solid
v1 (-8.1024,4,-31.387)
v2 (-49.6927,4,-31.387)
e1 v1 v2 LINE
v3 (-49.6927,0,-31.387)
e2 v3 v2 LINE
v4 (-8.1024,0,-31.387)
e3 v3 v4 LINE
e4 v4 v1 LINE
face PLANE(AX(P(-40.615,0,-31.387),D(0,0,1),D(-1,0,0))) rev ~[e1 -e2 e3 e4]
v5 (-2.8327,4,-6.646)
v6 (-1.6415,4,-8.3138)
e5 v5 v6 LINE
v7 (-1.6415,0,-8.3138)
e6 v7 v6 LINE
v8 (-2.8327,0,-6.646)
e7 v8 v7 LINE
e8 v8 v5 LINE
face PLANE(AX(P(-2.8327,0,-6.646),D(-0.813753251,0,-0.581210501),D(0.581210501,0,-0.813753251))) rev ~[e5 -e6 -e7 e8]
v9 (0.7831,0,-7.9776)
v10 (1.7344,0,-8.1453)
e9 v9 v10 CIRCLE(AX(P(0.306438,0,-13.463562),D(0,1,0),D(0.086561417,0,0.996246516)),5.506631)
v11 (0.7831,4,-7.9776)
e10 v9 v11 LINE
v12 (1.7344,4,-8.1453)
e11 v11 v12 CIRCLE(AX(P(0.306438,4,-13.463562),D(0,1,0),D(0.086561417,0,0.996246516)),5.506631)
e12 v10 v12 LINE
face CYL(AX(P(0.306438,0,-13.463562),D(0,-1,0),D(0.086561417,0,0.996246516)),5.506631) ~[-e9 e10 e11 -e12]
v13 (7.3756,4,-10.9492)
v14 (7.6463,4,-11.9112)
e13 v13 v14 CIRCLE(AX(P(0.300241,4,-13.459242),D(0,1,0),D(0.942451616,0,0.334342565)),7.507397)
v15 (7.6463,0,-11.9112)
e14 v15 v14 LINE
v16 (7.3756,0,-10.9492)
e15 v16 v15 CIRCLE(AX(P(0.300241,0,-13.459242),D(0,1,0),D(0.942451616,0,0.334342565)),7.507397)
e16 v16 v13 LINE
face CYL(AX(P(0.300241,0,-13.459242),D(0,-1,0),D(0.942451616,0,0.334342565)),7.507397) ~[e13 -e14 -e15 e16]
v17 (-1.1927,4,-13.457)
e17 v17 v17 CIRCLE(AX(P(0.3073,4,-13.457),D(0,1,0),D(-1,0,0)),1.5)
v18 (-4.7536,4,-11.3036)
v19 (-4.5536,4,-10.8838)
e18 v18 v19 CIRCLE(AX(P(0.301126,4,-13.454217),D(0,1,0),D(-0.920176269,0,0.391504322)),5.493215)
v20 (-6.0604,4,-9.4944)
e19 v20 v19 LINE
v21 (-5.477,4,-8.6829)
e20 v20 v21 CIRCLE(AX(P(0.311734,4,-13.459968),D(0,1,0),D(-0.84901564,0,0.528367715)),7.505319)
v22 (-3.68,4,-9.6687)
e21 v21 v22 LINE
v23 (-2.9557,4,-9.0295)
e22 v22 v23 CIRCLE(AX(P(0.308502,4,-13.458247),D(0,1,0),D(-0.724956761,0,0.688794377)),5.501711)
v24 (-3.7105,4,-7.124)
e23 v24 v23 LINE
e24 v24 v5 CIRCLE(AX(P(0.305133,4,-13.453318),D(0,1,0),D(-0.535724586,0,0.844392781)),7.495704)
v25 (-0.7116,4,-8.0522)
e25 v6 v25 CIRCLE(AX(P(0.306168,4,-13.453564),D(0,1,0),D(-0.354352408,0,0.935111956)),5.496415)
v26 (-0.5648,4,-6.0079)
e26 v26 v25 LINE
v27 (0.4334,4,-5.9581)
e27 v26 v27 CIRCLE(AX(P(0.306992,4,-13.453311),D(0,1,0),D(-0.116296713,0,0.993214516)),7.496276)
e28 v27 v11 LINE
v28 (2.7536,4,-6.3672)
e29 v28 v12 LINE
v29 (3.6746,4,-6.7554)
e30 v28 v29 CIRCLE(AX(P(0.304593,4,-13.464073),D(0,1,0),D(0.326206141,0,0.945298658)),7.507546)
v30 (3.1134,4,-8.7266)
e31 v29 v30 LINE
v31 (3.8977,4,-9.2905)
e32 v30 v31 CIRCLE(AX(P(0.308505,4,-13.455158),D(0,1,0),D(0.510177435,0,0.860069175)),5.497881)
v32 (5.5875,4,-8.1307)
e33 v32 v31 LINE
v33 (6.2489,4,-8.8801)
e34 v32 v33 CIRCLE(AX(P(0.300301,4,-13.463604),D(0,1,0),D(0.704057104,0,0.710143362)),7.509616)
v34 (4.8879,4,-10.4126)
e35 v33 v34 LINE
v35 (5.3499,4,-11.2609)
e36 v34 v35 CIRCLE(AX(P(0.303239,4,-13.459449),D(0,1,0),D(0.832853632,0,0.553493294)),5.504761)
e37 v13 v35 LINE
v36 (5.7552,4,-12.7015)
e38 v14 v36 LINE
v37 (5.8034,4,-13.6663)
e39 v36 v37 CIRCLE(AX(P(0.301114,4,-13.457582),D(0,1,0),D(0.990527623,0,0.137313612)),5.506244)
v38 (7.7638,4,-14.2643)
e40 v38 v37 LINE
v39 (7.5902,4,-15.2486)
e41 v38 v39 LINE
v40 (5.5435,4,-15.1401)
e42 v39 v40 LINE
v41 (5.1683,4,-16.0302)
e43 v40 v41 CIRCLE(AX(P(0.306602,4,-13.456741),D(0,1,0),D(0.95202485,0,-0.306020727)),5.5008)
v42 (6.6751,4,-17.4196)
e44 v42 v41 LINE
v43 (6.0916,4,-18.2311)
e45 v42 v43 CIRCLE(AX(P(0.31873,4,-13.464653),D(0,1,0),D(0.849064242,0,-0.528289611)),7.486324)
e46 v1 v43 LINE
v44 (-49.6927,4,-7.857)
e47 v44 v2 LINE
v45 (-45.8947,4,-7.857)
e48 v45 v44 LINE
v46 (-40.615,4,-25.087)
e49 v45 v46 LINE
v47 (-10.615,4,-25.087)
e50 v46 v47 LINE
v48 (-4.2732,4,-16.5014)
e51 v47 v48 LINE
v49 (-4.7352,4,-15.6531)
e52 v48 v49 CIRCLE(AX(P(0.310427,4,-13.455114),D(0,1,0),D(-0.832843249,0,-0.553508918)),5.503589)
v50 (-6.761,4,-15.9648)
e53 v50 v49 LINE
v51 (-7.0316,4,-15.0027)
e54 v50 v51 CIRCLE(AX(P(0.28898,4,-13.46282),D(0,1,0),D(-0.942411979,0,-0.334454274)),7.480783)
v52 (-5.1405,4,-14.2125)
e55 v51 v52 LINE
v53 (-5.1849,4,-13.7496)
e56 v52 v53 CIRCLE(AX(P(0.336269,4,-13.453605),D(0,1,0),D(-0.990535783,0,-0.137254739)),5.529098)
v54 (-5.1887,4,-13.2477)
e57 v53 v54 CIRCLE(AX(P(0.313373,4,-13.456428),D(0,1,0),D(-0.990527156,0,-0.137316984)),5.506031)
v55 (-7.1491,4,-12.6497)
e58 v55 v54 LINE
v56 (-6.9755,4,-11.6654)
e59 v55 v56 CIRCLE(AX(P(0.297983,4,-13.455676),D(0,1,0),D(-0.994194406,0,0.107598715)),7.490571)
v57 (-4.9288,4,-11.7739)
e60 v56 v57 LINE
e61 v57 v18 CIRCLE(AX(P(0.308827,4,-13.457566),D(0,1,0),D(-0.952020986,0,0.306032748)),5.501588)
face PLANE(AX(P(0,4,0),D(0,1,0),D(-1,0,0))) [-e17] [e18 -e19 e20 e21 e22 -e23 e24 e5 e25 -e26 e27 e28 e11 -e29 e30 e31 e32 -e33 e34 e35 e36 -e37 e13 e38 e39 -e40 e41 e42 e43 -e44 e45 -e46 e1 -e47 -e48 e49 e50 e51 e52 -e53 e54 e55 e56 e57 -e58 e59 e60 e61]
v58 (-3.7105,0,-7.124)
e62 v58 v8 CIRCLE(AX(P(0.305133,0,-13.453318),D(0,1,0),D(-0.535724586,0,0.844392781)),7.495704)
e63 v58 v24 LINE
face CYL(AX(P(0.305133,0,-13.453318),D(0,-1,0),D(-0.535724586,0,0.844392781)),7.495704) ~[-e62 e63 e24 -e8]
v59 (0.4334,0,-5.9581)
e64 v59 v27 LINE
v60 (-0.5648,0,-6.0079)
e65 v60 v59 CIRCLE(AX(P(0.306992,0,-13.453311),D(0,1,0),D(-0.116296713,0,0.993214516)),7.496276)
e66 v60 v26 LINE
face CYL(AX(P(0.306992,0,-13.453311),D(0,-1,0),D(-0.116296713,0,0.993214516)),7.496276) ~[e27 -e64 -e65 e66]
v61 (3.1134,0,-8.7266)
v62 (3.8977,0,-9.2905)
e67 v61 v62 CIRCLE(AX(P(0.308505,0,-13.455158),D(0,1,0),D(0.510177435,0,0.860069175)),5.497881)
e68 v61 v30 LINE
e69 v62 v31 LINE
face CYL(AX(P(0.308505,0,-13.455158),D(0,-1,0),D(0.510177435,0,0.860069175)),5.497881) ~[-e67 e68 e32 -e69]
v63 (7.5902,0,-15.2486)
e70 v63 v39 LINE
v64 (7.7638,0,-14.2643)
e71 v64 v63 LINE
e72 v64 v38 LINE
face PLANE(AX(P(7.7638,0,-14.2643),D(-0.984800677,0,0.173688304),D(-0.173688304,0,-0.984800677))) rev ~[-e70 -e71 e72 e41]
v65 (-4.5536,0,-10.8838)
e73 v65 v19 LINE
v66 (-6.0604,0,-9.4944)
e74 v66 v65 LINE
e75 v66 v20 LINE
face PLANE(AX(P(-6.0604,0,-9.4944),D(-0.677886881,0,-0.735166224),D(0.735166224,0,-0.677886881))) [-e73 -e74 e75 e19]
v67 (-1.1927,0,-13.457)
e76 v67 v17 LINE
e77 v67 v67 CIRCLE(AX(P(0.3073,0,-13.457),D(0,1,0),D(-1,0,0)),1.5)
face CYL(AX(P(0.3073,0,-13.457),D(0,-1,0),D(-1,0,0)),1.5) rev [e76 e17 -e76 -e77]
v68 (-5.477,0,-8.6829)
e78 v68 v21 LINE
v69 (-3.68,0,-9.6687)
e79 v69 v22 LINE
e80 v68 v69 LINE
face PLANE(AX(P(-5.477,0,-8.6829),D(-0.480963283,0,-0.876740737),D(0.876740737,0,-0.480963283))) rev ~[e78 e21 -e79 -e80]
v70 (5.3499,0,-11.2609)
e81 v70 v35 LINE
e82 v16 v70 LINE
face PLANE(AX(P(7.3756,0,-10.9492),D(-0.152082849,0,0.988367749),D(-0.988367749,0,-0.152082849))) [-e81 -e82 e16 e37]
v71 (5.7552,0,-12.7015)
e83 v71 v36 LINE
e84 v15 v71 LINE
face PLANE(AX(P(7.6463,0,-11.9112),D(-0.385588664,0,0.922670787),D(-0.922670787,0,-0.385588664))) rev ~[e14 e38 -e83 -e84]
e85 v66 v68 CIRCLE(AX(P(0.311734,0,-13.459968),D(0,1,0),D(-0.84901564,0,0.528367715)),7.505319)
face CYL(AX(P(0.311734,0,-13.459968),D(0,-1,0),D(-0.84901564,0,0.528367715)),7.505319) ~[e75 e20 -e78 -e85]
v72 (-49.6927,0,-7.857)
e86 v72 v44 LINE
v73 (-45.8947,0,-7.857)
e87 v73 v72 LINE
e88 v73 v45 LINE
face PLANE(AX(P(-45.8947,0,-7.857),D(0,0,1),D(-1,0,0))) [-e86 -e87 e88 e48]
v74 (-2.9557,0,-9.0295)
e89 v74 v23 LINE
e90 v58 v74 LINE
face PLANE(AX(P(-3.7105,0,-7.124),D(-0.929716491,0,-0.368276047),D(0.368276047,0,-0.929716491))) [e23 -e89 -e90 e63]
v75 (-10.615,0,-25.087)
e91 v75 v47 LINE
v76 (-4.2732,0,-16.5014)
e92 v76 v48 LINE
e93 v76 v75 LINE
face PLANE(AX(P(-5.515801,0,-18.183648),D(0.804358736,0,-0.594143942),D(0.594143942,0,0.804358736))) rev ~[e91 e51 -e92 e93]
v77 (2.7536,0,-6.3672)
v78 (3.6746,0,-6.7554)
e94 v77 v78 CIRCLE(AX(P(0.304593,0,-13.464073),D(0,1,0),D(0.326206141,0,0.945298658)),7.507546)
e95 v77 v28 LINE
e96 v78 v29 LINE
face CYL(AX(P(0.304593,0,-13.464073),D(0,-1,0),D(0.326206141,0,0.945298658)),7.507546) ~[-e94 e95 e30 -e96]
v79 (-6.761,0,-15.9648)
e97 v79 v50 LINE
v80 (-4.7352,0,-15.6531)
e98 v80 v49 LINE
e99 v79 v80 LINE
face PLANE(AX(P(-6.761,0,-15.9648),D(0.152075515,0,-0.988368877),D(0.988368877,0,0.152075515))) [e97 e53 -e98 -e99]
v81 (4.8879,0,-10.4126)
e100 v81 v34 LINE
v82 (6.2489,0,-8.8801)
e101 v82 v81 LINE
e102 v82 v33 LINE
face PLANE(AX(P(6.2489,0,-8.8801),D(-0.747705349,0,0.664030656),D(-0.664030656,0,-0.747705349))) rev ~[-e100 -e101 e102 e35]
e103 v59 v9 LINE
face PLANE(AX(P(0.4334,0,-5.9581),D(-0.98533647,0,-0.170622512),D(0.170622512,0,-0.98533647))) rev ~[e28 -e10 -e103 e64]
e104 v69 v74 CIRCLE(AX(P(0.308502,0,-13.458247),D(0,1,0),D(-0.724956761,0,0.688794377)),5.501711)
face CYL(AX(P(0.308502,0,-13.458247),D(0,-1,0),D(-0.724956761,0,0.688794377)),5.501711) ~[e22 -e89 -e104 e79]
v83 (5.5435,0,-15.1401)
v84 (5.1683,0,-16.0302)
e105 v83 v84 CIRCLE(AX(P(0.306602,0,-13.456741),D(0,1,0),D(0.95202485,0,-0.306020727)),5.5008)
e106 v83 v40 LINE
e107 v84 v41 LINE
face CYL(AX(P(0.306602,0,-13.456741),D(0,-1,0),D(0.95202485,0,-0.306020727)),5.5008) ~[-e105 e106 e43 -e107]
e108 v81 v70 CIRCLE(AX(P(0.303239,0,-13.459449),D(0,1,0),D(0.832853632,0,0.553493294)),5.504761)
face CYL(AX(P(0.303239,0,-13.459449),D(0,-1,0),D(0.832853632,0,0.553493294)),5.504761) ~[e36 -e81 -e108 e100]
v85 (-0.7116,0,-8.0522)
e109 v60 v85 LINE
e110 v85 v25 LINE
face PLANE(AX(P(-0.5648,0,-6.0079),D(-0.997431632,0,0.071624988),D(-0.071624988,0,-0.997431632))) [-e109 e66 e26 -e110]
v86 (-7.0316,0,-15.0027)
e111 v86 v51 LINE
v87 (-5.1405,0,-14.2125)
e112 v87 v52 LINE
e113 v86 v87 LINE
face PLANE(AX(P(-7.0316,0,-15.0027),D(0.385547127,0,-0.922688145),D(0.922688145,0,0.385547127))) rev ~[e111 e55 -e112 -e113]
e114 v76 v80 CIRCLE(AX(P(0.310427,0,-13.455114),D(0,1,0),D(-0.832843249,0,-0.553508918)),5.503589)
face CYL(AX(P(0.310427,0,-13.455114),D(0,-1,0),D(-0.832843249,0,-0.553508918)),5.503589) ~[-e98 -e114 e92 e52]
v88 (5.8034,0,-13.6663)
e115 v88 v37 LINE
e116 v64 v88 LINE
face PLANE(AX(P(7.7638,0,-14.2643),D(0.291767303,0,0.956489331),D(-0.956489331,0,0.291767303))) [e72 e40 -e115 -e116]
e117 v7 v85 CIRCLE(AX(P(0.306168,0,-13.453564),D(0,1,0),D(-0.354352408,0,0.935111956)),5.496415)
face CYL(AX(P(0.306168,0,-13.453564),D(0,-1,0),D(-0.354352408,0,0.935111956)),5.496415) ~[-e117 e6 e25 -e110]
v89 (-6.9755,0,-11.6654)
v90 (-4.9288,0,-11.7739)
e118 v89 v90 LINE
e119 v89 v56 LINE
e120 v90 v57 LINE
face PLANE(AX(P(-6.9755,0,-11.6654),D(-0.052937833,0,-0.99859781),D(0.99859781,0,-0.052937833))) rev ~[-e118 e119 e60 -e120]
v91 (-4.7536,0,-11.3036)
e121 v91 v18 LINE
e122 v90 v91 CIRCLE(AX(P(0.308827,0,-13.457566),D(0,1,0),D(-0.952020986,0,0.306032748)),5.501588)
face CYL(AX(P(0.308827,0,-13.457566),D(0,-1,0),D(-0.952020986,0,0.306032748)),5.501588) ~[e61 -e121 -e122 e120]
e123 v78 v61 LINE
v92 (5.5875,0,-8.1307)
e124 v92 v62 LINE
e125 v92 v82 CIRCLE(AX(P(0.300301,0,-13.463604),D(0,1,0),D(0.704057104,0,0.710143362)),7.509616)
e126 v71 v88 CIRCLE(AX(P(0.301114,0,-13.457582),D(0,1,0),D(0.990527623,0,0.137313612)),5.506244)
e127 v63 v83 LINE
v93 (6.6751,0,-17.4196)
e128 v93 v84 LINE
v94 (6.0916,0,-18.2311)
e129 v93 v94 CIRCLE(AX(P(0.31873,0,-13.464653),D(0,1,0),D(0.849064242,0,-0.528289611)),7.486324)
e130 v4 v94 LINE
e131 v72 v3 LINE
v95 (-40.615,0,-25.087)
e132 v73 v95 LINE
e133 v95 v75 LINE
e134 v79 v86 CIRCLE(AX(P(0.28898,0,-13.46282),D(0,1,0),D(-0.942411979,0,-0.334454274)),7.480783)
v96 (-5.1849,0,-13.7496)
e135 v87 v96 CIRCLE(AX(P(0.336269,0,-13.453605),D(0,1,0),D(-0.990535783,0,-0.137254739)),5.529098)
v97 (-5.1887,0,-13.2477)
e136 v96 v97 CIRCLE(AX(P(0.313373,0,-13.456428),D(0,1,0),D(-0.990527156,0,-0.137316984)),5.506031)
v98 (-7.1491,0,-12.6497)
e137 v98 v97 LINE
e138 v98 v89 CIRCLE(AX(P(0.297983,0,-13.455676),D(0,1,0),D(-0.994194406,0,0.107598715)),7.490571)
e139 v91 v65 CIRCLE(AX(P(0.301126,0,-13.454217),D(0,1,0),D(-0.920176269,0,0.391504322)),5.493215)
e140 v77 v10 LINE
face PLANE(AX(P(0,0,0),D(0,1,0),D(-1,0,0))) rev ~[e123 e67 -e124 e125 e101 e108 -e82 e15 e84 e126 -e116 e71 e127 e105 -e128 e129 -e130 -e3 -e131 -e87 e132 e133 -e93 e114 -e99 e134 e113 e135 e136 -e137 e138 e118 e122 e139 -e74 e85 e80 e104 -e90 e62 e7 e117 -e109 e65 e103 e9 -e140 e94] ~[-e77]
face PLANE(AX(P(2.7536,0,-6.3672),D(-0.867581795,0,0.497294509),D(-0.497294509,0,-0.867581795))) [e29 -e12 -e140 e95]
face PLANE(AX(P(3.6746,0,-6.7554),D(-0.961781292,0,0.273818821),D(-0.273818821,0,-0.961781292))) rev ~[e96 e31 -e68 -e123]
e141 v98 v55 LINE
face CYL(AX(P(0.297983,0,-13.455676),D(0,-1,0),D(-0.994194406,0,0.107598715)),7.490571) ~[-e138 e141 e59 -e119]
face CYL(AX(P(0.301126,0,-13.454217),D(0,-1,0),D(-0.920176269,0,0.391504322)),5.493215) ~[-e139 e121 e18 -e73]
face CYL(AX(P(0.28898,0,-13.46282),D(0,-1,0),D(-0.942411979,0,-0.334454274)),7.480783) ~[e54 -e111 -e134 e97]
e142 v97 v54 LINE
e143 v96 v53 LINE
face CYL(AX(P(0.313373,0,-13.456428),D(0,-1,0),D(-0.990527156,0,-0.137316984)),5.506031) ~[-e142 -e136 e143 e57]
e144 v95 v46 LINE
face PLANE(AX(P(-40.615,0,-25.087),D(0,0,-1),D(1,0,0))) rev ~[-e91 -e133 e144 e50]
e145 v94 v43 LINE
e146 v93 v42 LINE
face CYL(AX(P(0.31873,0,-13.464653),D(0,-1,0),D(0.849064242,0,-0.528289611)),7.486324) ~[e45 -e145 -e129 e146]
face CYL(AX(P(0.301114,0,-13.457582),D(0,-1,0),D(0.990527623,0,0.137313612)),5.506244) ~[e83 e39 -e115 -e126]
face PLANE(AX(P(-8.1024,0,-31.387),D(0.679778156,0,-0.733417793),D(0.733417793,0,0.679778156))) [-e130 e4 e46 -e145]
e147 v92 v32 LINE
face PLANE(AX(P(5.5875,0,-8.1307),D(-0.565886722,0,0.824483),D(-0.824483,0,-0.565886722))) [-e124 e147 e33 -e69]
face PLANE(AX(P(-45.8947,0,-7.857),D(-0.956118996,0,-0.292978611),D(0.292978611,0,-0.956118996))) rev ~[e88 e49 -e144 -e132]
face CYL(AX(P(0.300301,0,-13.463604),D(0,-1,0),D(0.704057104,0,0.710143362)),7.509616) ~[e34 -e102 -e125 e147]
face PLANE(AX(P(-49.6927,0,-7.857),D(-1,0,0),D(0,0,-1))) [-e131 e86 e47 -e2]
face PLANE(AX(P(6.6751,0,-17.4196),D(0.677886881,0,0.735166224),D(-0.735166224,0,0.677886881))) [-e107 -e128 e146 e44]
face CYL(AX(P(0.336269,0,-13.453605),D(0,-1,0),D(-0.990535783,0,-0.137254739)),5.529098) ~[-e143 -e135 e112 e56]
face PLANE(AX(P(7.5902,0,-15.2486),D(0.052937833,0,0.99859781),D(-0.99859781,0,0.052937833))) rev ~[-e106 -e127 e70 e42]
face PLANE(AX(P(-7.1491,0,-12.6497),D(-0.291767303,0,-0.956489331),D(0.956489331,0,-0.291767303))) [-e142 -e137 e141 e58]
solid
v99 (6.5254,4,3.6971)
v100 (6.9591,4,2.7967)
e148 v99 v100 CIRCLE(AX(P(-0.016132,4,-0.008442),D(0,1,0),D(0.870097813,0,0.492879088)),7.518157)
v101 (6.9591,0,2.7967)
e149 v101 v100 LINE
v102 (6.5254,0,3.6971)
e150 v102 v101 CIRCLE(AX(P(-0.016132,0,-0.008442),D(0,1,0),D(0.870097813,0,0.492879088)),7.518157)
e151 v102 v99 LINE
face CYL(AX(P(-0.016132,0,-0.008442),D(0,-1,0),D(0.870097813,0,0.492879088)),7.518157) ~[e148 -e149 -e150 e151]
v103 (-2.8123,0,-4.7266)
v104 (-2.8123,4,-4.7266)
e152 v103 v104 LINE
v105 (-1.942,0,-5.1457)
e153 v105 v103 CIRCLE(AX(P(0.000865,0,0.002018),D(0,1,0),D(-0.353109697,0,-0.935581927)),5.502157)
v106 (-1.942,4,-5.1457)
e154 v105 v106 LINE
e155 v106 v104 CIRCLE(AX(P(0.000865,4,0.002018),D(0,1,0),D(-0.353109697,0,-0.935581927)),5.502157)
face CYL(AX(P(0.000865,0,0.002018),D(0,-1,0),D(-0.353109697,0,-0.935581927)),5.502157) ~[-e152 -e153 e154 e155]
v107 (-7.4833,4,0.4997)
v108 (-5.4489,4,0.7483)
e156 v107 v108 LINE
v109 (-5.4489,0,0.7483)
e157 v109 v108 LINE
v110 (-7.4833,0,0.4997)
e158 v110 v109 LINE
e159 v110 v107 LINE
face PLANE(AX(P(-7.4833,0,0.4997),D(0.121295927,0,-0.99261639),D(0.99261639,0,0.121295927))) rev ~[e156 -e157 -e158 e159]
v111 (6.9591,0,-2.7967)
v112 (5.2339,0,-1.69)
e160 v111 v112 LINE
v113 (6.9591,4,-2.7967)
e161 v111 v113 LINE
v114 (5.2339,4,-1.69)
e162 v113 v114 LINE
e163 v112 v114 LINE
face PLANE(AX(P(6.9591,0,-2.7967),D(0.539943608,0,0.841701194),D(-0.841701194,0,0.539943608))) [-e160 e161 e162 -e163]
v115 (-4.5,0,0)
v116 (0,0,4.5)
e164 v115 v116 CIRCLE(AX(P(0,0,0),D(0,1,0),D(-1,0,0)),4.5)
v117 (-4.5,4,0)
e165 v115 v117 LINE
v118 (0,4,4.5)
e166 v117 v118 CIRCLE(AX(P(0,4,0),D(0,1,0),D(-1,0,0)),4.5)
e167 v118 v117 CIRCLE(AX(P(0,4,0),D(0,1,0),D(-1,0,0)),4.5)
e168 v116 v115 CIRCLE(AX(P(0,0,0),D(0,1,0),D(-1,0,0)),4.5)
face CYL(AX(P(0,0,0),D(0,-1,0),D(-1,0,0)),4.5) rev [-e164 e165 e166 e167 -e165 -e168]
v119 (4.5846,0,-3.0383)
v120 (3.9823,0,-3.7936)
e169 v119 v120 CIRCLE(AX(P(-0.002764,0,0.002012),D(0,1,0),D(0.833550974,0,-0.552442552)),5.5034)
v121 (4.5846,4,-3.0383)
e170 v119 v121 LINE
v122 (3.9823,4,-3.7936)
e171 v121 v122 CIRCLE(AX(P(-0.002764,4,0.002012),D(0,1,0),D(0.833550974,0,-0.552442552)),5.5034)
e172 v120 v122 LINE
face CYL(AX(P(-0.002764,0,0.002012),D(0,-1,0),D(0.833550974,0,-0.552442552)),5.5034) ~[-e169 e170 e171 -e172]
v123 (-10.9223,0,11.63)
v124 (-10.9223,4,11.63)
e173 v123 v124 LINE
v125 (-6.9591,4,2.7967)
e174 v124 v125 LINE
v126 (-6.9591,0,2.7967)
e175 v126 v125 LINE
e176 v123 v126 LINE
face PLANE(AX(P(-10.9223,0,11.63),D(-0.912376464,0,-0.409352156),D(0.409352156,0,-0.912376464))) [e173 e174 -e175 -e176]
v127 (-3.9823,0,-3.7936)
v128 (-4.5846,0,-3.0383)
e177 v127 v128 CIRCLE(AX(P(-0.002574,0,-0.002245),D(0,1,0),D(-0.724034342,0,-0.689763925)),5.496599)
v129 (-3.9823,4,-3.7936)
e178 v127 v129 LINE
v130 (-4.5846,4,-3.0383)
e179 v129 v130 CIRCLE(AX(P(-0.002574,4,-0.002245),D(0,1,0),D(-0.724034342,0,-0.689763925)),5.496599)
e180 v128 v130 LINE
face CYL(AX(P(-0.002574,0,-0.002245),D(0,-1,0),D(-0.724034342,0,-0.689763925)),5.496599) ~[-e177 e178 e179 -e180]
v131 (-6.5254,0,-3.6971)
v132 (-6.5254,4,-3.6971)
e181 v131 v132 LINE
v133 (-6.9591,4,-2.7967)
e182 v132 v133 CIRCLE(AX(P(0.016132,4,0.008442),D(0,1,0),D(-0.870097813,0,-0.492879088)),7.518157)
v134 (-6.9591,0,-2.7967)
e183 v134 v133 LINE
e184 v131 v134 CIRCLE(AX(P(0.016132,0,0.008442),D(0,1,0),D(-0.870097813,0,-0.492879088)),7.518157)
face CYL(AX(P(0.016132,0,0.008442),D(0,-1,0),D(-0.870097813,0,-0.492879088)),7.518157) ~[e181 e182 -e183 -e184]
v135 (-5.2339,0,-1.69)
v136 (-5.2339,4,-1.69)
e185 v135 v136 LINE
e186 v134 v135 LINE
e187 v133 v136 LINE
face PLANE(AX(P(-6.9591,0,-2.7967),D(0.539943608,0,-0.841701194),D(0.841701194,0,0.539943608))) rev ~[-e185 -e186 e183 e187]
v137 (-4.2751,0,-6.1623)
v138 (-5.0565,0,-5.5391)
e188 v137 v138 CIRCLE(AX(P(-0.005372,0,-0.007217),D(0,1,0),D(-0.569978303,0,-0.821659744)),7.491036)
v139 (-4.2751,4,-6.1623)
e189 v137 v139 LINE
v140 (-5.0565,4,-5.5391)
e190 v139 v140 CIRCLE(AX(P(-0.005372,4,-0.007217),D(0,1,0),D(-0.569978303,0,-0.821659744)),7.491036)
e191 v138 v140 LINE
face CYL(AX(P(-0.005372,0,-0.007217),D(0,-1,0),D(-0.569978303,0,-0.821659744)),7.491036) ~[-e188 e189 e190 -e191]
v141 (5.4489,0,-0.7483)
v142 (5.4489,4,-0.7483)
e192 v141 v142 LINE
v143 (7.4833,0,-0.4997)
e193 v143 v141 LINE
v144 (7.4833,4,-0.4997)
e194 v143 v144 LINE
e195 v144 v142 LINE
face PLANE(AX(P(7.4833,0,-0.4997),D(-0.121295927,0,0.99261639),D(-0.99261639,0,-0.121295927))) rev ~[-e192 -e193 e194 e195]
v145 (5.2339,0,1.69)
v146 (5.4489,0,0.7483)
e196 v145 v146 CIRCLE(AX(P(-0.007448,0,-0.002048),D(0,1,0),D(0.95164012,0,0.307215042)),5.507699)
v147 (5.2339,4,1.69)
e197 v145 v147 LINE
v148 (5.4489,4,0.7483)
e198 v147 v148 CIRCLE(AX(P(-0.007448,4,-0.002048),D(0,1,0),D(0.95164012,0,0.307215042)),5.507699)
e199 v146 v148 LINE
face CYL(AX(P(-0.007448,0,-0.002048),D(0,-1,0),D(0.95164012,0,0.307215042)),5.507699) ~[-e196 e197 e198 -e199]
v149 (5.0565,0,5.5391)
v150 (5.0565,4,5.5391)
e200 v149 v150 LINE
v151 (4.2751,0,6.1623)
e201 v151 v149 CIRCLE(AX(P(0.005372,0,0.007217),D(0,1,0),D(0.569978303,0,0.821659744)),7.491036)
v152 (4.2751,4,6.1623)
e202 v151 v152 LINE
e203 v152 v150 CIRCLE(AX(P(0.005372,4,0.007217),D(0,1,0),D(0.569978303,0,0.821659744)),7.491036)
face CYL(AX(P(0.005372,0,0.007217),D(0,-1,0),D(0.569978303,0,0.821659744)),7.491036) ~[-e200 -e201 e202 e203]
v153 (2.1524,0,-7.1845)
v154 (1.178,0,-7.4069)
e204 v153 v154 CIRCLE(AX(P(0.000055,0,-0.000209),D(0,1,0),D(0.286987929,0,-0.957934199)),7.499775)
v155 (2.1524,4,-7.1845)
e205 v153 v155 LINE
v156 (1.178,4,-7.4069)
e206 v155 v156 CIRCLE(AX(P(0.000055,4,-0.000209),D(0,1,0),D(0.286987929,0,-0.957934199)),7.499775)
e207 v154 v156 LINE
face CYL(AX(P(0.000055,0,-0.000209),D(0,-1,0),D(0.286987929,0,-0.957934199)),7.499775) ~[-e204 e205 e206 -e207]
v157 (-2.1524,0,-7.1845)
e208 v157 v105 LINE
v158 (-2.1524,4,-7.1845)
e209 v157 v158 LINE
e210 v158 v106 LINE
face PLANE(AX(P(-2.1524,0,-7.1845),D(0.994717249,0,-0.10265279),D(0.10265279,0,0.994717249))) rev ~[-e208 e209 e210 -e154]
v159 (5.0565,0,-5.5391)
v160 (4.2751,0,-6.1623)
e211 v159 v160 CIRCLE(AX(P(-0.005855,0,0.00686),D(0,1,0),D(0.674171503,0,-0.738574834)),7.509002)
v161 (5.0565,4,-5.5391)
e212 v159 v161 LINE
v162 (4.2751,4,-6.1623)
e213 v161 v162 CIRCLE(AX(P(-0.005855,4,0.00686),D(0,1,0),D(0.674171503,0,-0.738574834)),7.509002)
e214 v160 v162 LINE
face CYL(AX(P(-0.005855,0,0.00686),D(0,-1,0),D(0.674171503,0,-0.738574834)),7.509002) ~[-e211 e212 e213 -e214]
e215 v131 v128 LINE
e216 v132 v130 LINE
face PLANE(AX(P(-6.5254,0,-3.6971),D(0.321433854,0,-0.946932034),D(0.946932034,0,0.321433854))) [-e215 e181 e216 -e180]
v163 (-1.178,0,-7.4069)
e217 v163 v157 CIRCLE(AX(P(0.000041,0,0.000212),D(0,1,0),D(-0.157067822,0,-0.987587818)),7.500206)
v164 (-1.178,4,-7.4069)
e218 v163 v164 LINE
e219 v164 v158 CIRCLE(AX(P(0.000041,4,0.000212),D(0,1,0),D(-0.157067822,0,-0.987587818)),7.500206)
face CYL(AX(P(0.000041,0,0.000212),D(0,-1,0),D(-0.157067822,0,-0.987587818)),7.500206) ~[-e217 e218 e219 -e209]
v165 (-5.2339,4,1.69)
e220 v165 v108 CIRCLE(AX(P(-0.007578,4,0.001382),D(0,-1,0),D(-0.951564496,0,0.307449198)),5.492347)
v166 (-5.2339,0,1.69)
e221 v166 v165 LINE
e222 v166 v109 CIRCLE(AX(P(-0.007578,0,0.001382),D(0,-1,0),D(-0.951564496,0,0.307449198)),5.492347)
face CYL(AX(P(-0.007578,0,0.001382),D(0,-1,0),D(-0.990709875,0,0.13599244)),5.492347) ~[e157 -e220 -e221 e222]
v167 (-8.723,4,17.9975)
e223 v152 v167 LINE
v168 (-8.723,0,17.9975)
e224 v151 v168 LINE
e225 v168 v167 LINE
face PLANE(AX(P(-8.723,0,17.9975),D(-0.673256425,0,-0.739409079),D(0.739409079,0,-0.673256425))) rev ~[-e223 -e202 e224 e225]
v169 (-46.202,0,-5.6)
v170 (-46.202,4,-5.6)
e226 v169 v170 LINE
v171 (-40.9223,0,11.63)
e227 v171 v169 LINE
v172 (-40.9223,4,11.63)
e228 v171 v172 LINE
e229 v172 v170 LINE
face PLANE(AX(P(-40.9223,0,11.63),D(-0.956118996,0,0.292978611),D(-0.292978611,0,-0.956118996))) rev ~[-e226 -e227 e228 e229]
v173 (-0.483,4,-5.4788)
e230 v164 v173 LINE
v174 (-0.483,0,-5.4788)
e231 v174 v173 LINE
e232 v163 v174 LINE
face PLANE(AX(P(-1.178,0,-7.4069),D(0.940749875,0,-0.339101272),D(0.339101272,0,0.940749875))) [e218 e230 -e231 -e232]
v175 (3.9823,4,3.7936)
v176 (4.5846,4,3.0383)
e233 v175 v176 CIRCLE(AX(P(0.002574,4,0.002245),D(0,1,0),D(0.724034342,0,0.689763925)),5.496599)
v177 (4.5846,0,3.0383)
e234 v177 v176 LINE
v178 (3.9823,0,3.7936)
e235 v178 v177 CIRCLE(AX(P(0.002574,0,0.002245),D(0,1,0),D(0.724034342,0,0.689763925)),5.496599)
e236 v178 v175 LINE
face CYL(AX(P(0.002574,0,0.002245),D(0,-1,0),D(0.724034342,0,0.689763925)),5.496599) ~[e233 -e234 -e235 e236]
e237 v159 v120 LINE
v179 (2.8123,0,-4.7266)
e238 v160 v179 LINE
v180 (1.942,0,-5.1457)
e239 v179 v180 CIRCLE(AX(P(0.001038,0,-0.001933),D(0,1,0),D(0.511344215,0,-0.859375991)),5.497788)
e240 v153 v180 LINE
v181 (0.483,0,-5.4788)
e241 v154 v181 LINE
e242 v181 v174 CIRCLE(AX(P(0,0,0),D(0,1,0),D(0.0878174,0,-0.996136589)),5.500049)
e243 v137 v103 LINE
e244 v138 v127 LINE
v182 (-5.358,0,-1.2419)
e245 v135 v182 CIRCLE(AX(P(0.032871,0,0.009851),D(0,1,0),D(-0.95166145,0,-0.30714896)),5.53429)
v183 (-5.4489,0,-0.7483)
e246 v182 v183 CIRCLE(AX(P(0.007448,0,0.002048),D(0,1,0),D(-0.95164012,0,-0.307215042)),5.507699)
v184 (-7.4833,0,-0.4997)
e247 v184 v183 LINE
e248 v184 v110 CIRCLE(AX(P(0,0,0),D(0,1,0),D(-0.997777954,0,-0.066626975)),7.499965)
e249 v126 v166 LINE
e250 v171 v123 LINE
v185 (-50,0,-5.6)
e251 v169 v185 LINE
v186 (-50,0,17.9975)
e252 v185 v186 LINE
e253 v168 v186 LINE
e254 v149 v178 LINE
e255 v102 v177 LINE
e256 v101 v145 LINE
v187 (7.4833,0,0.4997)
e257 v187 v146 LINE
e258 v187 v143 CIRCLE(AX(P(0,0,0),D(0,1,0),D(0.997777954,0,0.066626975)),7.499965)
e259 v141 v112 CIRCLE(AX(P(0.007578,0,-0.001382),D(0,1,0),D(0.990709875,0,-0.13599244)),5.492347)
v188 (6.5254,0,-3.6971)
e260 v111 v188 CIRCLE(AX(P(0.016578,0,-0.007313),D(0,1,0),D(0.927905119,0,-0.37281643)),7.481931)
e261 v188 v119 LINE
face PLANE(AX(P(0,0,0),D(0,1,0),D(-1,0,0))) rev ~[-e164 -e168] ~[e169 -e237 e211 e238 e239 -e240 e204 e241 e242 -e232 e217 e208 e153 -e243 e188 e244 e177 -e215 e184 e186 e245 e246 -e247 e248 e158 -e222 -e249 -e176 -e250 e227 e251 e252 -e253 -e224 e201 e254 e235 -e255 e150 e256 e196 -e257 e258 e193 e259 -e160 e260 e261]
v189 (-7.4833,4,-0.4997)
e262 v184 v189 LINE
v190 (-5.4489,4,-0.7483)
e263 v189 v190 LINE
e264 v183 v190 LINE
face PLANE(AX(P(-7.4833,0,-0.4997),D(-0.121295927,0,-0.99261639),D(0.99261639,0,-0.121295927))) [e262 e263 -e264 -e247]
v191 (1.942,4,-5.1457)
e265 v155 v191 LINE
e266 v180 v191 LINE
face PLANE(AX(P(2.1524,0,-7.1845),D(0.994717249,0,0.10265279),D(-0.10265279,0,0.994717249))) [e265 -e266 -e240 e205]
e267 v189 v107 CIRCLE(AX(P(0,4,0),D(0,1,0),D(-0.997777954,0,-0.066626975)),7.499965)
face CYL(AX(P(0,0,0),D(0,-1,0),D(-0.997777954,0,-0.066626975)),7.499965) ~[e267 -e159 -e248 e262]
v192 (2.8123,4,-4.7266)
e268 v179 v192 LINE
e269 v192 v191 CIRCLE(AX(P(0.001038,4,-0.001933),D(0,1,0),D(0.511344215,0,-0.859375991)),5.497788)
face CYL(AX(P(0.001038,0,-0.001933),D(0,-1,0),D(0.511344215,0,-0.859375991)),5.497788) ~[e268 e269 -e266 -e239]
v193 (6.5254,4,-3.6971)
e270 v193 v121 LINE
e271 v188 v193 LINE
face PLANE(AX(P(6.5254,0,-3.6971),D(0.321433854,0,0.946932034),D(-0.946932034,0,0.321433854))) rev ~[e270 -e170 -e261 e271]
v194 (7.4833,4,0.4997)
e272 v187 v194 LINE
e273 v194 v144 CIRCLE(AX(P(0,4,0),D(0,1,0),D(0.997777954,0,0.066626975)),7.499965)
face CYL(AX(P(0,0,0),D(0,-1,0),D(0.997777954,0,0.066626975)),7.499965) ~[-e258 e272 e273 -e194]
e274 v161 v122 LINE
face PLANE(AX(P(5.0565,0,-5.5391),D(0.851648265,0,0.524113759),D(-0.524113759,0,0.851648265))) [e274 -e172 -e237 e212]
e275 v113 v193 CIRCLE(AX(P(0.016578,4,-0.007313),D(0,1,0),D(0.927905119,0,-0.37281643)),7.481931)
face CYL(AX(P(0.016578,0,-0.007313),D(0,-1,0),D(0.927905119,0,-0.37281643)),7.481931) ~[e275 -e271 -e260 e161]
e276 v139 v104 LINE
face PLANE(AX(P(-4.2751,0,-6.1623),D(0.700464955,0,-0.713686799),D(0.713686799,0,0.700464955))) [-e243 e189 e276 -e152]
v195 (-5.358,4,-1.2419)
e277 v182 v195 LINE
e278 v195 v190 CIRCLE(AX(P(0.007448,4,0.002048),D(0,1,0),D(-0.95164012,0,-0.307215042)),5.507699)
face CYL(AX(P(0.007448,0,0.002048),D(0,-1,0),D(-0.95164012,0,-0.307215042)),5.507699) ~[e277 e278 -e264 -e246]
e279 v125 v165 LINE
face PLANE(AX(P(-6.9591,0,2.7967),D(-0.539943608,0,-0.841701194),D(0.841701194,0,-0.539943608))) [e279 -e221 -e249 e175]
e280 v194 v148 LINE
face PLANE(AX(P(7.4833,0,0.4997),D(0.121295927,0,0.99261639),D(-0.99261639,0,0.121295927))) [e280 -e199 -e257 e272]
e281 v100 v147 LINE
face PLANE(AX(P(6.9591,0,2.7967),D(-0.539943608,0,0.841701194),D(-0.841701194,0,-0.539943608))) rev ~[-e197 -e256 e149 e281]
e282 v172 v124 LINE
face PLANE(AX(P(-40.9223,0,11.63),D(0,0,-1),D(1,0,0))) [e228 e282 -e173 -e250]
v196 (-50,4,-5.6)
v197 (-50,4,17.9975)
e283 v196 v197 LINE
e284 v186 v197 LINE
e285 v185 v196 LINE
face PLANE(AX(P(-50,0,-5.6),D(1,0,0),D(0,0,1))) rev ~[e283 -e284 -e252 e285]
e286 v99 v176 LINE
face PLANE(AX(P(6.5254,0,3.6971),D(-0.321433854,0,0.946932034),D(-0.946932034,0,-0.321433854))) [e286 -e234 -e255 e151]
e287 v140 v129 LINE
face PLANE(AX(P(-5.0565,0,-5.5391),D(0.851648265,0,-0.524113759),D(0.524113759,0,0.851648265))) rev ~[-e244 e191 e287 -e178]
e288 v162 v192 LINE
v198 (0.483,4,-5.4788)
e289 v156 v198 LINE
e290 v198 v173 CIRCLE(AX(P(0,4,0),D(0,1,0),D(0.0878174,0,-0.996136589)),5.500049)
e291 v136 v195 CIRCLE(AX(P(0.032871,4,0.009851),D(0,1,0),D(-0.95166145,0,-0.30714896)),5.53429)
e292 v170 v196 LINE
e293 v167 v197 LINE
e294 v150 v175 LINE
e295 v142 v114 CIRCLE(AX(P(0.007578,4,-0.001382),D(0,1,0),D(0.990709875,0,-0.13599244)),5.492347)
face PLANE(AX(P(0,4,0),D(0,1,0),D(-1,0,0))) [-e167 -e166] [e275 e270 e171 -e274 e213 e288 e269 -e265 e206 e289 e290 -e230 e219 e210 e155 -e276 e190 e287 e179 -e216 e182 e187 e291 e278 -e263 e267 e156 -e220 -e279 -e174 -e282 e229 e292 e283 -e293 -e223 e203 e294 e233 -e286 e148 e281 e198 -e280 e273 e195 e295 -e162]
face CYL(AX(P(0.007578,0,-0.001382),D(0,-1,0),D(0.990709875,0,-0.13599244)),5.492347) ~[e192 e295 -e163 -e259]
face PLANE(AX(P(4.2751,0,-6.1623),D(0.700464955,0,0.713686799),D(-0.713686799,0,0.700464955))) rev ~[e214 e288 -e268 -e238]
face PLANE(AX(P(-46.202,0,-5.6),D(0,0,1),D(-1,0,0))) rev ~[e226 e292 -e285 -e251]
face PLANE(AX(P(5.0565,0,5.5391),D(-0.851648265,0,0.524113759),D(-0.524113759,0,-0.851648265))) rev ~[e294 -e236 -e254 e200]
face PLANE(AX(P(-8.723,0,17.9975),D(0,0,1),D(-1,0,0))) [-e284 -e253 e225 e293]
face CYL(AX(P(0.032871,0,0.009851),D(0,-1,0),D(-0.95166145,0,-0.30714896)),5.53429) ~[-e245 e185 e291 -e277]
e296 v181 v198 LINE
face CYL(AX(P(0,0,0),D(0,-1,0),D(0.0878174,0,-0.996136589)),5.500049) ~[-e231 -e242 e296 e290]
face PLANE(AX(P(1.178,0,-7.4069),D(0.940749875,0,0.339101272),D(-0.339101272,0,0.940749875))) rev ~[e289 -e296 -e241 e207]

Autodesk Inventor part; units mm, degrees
ref_plane "YZ Plane" through (0, 0, 0) normal (1, 0, 0) x (0, 1, 0)
ref_plane "XZ Plane" through (0, 0, 0) normal (0, 1, 0) x (-1, 0, 0)
ref_plane "XY Plane" through (0, 0, 0) normal (0, 0, 1) x (1, 0, 0)
sketch "Boceto1" plane through (0, 0, 0) normal (0, 1, 0) x (-1, 0, 0)
  circle A0 centre (0, 0) radius 4.5
  line L0 (7.4833, 0.4997) -> (5.4489, 0.7483)
  line L1 (7.4833, -0.4997) -> (5.4489, -0.7483)
  line L2 (6.5254, 3.6971) -> (4.5846, 3.0383)
  line L3 (6.9591, 2.7967) -> (5.2339, 1.69)
  line L4 (4.2751, 6.1623) -> (2.8123, 4.7266)
  line L5 (5.0565, 5.5391) -> (3.9823, 3.7936)
  line L6 (1.178, 7.4069) -> (0.483, 5.4788)
  line L7 (2.1524, 7.1845) -> (1.942, 5.1457)
  line L8 (-2.1524, 7.1845) -> (-1.942, 5.1457)
  line L9 (-1.178, 7.4069) -> (-0.483, 5.4788)
  line L10 (-5.0565, 5.5391) -> (-3.9823, 3.7936)
  line L11 (-4.2751, 6.1623) -> (-2.8123, 4.7266)
  line L12 (-6.9591, 2.7967) -> (-5.2339, 1.69)
  line L13 (-6.5254, 3.6971) -> (-4.5846, 3.0383)
  line L14 (-7.4833, -0.4997) -> (-5.4489, -0.7483)
  line L15 (-7.4833, 0.4997) -> (-5.4489, 0.7483)
  line L16 (-6.5254, -3.6971) -> (-4.5846, -3.0383)
  line L17 (-6.9591, -2.7967) -> (-5.2339, -1.69)
  line L18 (-4.2751, -6.1623) -> (-2.8123, -4.7266)
  line L19 (-5.0565, -5.5391) -> (-3.9823, -3.7936)
  line L20 (-1.178, -7.4069) -> (-0.483, -5.4788)
  line L21 (-2.1524, -7.1845) -> (-1.942, -5.1457)
  line L22 (2.1524, -7.1845) -> (1.942, -5.1457)
  line L23 (1.178, -7.4069) -> (0.483, -5.4788)
  line L24 (5.0565, -5.5391) -> (3.9823, -3.7936)
  line L25 (4.2751, -6.1623) -> (2.8123, -4.7266)
  line L26 (6.9591, -2.7967) -> (5.2339, -1.69)
  line L27 (6.5254, -3.6971) -> (4.5846, -3.0383)
  arc A1 (5.0565, 5.5391) -> (4.2751, 6.1623) centre (0, 0) ccw
  arc A2 (2.1524, 7.1845) -> (1.178, 7.4069) centre (0, 0) ccw
  arc A3 (-1.178, 7.4069) -> (-2.1524, 7.1845) centre (0, 0) ccw
  arc A4 (-4.2751, 6.1623) -> (-5.0565, 5.5391) centre (0, 0) ccw
  arc A5 (-6.5254, 3.6971) -> (-6.9591, 2.7967) centre (0, 0) ccw
  arc A6 (-7.4833, 0.4997) -> (-7.4833, -0.4997) centre (0, 0) ccw
  arc A7 (-6.9591, -2.7967) -> (-6.5254, -3.6971) centre (0, 0) ccw
  arc A8 (-5.0565, -5.5391) -> (-4.2751, -6.1623) centre (0, 0) ccw
  arc A9 (-2.1524, -7.1845) -> (-1.178, -7.4069) centre (0, 0) ccw
  arc A10 (1.178, -7.4069) -> (2.1524, -7.1845) centre (0, 0) ccw
  arc A11 (4.2751, -6.1623) -> (5.0565, -5.5391) centre (0, 0) ccw
  arc A12 (6.5254, -3.6971) -> (6.9591, -2.7967) centre (0, 0) ccw
  arc A13 (7.4833, -0.4997) -> (7.4833, 0.4997) centre (0, 0) ccw
  arc A14 (6.9591, 2.7967) -> (6.5254, 3.6971) centre (0, 0) ccw
  arc A15 (5.4489, 0.7483) -> (5.2339, 1.69) centre (0, 0) ccw
  arc A16 (4.5846, 3.0383) -> (3.9823, 3.7936) centre (0, 0) ccw
  arc A17 (5.2339, -1.69) -> (5.358, -1.2419) centre (0, 0) ccw
  arc A18 (5.358, 1.2419) -> (5.2339, 1.69) centre (0, 0) ccw
  arc A19 (4.5846, 3.0383) -> (3.9823, 3.7936) centre (0, 0) ccw
  arc A20 (2.8123, 4.7266) -> (1.942, 5.1457) centre (0, 0) ccw
  arc A21 (2.8123, 4.7266) -> (1.942, 5.1457) centre (0, 0) ccw
  arc A22 (0.483, 5.4788) -> (-0.483, 5.4788) centre (0, 0) ccw
  arc A23 (0.483, 5.4788) -> (-0.483, 5.4788) centre (0, 0) ccw
  arc A24 (-1.942, 5.1457) -> (-2.8123, 4.7266) centre (0, 0) ccw
  arc A25 (-1.942, 5.1457) -> (-2.8123, 4.7266) centre (0, 0) ccw
  arc A26 (-3.9823, 3.7936) -> (-4.5846, 3.0383) centre (0, 0) ccw
  arc A27 (-3.9823, 3.7936) -> (-4.5846, 3.0383) centre (0, 0) ccw
  arc A28 (-5.2339, 1.69) -> (-5.4489, 0.7483) centre (0, 0) ccw
  arc A29 (-5.2339, 1.69) -> (-5.4489, 0.7483) centre (0, 0) ccw
  arc A30 (-5.4489, -0.7483) -> (-5.2339, -1.69) centre (0, 0) ccw
  arc A31 (-5.4489, -0.7483) -> (-5.2339, -1.69) centre (0, 0) ccw
  arc A32 (-4.5846, -3.0383) -> (-3.9823, -3.7936) centre (0, 0) ccw
  arc A33 (-4.5846, -3.0383) -> (-3.9823, -3.7936) centre (0, 0) ccw
  arc A34 (-2.8123, -4.7266) -> (-1.942, -5.1457) centre (0, 0) ccw
  arc A35 (-2.8123, -4.7266) -> (-1.942, -5.1457) centre (0, 0) ccw
  arc A36 (-0.483, -5.4788) -> (0.483, -5.4788) centre (0, 0) ccw
  arc A37 (-0.483, -5.4788) -> (0.483, -5.4788) centre (0, 0) ccw
  arc A38 (1.942, -5.1457) -> (2.8123, -4.7266) centre (0, 0) ccw
  arc A39 (1.942, -5.1457) -> (2.8123, -4.7266) centre (0, 0) ccw
  arc A40 (3.9823, -3.7936) -> (4.5846, -3.0383) centre (0, 0) ccw
  arc A41 (3.9823, -3.7936) -> (4.5846, -3.0383) centre (0, 0) ccw
  arc A42 (5.2339, -1.69) -> (5.4489, -0.7483) centre (0, 0) ccw
  line L28 (0, 0) -> (0, 10.0549)
  line L29 (8.723, 17.9975) -> (50, 17.9975)
  line L30 (40.9223, 11.63) -> (10.9223, 11.63)
  line L31 (10.9223, 11.63) -> (4.3001, 3.4292)
  arc A43 (7.1491, -12.6497) -> (6.9755, -11.6654) centre (-0.3073, -13.457) ccw
  arc A44 (6.0604, -9.4944) -> (5.477, -8.6829) centre (-0.3073, -13.457) ccw
  line L32 (5.477, -8.6829) -> (3.68, -9.6687)
  line L33 (6.0604, -9.4944) -> (4.5536, -10.8838)
  line L34 (6.9755, -11.6654) -> (4.9288, -11.7739)
  circle A45 centre (-0.3073, -13.457) radius 4.5
  arc A46 (3.7105, -7.124) -> (2.8327, -6.646) centre (-0.3073, -13.457) ccw
  arc A47 (4.7536, -11.3036) -> (4.5536, -10.8838) centre (-0.3073, -13.457) ccw
  arc A48 (4.9288, -11.7739) -> (4.5536, -10.8838) centre (-0.3073, -13.457) ccw
  arc A49 (3.68, -9.6687) -> (2.9557, -9.0295) centre (-0.3073, -13.457) ccw
  arc A50 (3.68, -9.6687) -> (2.9557, -9.0295) centre (-0.3073, -13.457) ccw
  line L35 (3.7105, -7.124) -> (2.9557, -9.0295)
  line L36 (2.8327, -6.646) -> (1.6415, -8.3138)
  arc A51 (1.6415, -8.3138) -> (0.7116, -8.0522) centre (-0.3073, -13.457) ccw
  arc A52 (1.6415, -8.3138) -> (0.7116, -8.0522) centre (-0.3073, -13.457) ccw
  line L37 (0.5648, -6.0079) -> (0.7116, -8.0522)
  line L38 (-0.4334, -5.9581) -> (-0.7831, -7.9776)
  arc A53 (-0.7831, -7.9776) -> (-1.7344, -8.1453) centre (-0.3073, -13.457) ccw
  arc A54 (-0.7831, -7.9776) -> (-1.7344, -8.1453) centre (-0.3073, -13.457) ccw
  arc A55 (0.5648, -6.0079) -> (-0.4334, -5.9581) centre (-0.3073, -13.457) ccw
  arc A56 (4.2732, -16.5014) -> (4.7352, -15.6531) centre (-0.3073, -13.457) ccw
  arc A57 (4.2732, -16.5014) -> (4.7352, -15.6531) centre (-0.3073, -13.457) ccw
  arc A58 (4.9729, -18.7833) -> (5.6342, -18.0339) centre (-0.3073, -13.457) ccw
  arc A59 (6.761, -15.9648) -> (7.0316, -15.0027) centre (-0.3073, -13.457) ccw
  line L39 (4.9729, -18.7833) -> (3.283, -17.6235)
  line L40 (5.6342, -18.0339) -> (4.2732, -16.5014)
  arc A60 (5.1405, -14.2125) -> (5.1849, -13.7496) centre (-0.3073, -13.457) ccw
  arc A61 (5.1405, -14.2125) -> (5.1887, -13.2477) centre (-0.3073, -13.457) ccw
  line L41 (7.0316, -15.0027) -> (5.1405, -14.2125)
  line L42 (6.761, -15.9648) -> (4.7352, -15.6531)
  line L43 (7.1491, -12.6497) -> (5.1887, -13.2477)
  line L44 (-7.3756, -10.9492) -> (-5.3499, -11.2609)
  arc A62 (-4.8879, -10.4126) -> (-5.3499, -11.2609) centre (-0.3073, -13.457) ccw
  arc A63 (-4.8879, -10.4126) -> (-5.3499, -11.2609) centre (-0.3073, -13.457) ccw
  line L45 (-6.2489, -8.8801) -> (-4.8879, -10.4126)
  arc A64 (-3.1134, -8.7266) -> (-3.8977, -9.2905) centre (-0.3073, -13.457) ccw
  arc A65 (-3.1134, -8.7266) -> (-3.8977, -9.2905) centre (-0.3073, -13.457) ccw
  line L46 (-5.5875, -8.1307) -> (-3.8977, -9.2905)
  arc A66 (-5.5875, -8.1307) -> (-6.2489, -8.8801) centre (-0.3073, -13.457) ccw
  arc A67 (-5.7552, -12.7015) -> (-5.8034, -13.6663) centre (-0.3073, -13.457) ccw
  arc A68 (-5.7552, -12.7015) -> (-5.8034, -13.6663) centre (-0.3073, -13.457) ccw
  arc A69 (-7.3756, -10.9492) -> (-7.6463, -11.9112) centre (-0.3073, -13.457) ccw
  line L47 (-7.6463, -11.9112) -> (-5.7552, -12.7015)
  arc A70 (-5.5435, -15.1401) -> (-5.1683, -16.0302) centre (-0.3073, -13.457) ccw
  arc A71 (-5.5435, -15.1401) -> (-5.1683, -16.0302) centre (-0.3073, -13.457) ccw
  line L48 (-7.7638, -14.2643) -> (-5.8034, -13.6663)
  line L49 (-7.5902, -15.2486) -> (-5.5435, -15.1401)
  line L50 (-6.6751, -17.4196) -> (-5.1683, -16.0302)
  line L51 (-6.0916, -18.2311) -> (-4.2947, -17.2453)
  arc A72 (-6.6751, -17.4196) -> (-6.0916, -18.2311) centre (-0.3073, -13.457) ccw
  line L52 (-4.3251, -19.79) -> (-3.5704, -17.8844)
  arc A73 (-4.3251, -19.79) -> (-3.4474, -20.268) centre (-0.3073, -13.457) ccw
  arc A74 (-2.2561, -18.6002) -> (-1.3263, -18.8618) centre (-0.3073, -13.457) ccw
  arc A75 (-2.2561, -18.6002) -> (-1.3263, -18.8618) centre (-0.3073, -13.457) ccw
  arc A76 (0.1684, -18.9364) -> (1.1197, -18.7686) centre (-0.3073, -13.457) ccw
  arc A77 (0.1684, -18.9364) -> (1.1197, -18.7686) centre (-0.3073, -13.457) ccw
  line L53 (2.139, -20.5468) -> (1.1197, -18.7686)
  line L54 (-3.4474, -20.268) -> (-2.2561, -18.6002)
  arc A78 (-2.7536, -6.3672) -> (-3.6746, -6.7554) centre (-0.3073, -13.457) ccw
  line L55 (-2.7536, -6.3672) -> (-1.7344, -8.1453)
  line L56 (-3.6746, -6.7554) -> (-3.1134, -8.7266)
  arc A79 (2.4987, -18.1873) -> (3.283, -17.6235) centre (-0.3073, -13.457) ccw
  arc A80 (2.139, -20.5468) -> (3.0599, -20.1586) centre (-0.3073, -13.457) ccw
  line L57 (3.0599, -20.1586) -> (2.4987, -18.1873)
  arc A81 (2.4987, -18.1873) -> (3.283, -17.6235) centre (-0.3073, -13.457) ccw
  line L58 (-0.1813, -20.9559) -> (0.1684, -18.9364)
  arc A82 (-1.1795, -20.9061) -> (-0.1813, -20.9559) centre (-0.3073, -13.457) ccw
  line L59 (-1.1795, -20.9061) -> (-1.3263, -18.8618)
  arc A83 (-4.2947, -17.2453) -> (-3.5704, -17.8844) centre (-0.3073, -13.457) ccw
  arc A84 (-4.2947, -17.2453) -> (-3.5704, -17.8844) centre (-0.3073, -13.457) ccw
  line L60 (40.615, -25.087) -> (10.615, -25.087)
  line L61 (-7.7638, -14.2643) -> (-7.5902, -15.2486)
  line L62 (46.202, -5.6) -> (50, -5.6)
  line L63 (45.8947, -7.857) -> (49.6927, -7.857)
  line L64 (40.9223, 11.63) -> (46.202, -5.6)
  line L65 (45.8947, -7.857) -> (40.615, -25.087)
  line L66 (8.723, 17.9975) -> (-4.2751, 6.1623)
  line L67 (50, -5.6) -> (50, 17.9975)
  line L68 (10.615, -31.387) -> (40.615, -31.387)
  line L69 (40.615, -31.387) -> (49.6927, -31.387)
  line L70 (10.615, -31.387) -> (8.1024, -31.387)
  line L71 (10.615, -25.087) -> (4.2732, -16.5014)
  line L72 (8.1024, -31.387) -> (-6.0916, -18.2311)
  line L73 (10.9223, 11.63) -> (6.9591, 2.7967)
  circle A85 centre (-0.3073, -13.457) radius 1.5
  line L74 (49.6927, -7.857) -> (49.6927, -31.387)
  point P0 (5.1849, -13.7496)
  point P1 (4.7536, -11.3036)
  point P2 (5.358, -1.2419)
  dimension "d1" = 9
  dimension "d11" = 360
  dimension "d16" = 20
  dimension "d19" = 30
  dimension "d30" = 6.3
  dimension "d31" = 3
extrude "Extrusión1" add sketch "Boceto1" along normal blind 4 contours A22 L6 A2 L7 A20 L4 A1 L5 A16 L2 A14 L3 A15 L0 A13 L1 A42 A17 L26 A12 L27 A40 L24 A11 L25 A38 L22 A10 L23 A36 L20 A9 L21 A34 L18 A8 L19 A32 L16 A7 L17 A30 L14 A6 L15 A28 L12 A5 L13 A26 L10 A4 L11 A24 L8 A3 L9 | A22 L9 A3 L8 A24 L11 L66 L28 | L28 L66 L29 L67 L62 L64 L30 L31 A16 L5 A1 L4 A20 L7 A2 L6 A22 | L73 A14 L2 A16 L31 | L43 A61 A60 L41 A59 L42 A56 L71 A58 L39 A79 L57 A80 L53 A76 L58 A82 L59 A74 L54 A73 L52 A83 L51 A72 L50 A70 L49 L61 L48 A67 L47 A69 L44 A62 L45 A66 L46 A64 L56 A78 L55 A53 L38 A55 L37 A51 L36 A46 L35 A49 L32 A44 L33 A47 A48 L34 A43 | L71 L60 L65 L63 L74 L69 L68 L70 L72 L51 A83 L52 A73 L54 A74 L59 A82 L58 A76 L53 A80 L57 A79 L39 A58 | A45
properties part number "dientes mas afilados"
